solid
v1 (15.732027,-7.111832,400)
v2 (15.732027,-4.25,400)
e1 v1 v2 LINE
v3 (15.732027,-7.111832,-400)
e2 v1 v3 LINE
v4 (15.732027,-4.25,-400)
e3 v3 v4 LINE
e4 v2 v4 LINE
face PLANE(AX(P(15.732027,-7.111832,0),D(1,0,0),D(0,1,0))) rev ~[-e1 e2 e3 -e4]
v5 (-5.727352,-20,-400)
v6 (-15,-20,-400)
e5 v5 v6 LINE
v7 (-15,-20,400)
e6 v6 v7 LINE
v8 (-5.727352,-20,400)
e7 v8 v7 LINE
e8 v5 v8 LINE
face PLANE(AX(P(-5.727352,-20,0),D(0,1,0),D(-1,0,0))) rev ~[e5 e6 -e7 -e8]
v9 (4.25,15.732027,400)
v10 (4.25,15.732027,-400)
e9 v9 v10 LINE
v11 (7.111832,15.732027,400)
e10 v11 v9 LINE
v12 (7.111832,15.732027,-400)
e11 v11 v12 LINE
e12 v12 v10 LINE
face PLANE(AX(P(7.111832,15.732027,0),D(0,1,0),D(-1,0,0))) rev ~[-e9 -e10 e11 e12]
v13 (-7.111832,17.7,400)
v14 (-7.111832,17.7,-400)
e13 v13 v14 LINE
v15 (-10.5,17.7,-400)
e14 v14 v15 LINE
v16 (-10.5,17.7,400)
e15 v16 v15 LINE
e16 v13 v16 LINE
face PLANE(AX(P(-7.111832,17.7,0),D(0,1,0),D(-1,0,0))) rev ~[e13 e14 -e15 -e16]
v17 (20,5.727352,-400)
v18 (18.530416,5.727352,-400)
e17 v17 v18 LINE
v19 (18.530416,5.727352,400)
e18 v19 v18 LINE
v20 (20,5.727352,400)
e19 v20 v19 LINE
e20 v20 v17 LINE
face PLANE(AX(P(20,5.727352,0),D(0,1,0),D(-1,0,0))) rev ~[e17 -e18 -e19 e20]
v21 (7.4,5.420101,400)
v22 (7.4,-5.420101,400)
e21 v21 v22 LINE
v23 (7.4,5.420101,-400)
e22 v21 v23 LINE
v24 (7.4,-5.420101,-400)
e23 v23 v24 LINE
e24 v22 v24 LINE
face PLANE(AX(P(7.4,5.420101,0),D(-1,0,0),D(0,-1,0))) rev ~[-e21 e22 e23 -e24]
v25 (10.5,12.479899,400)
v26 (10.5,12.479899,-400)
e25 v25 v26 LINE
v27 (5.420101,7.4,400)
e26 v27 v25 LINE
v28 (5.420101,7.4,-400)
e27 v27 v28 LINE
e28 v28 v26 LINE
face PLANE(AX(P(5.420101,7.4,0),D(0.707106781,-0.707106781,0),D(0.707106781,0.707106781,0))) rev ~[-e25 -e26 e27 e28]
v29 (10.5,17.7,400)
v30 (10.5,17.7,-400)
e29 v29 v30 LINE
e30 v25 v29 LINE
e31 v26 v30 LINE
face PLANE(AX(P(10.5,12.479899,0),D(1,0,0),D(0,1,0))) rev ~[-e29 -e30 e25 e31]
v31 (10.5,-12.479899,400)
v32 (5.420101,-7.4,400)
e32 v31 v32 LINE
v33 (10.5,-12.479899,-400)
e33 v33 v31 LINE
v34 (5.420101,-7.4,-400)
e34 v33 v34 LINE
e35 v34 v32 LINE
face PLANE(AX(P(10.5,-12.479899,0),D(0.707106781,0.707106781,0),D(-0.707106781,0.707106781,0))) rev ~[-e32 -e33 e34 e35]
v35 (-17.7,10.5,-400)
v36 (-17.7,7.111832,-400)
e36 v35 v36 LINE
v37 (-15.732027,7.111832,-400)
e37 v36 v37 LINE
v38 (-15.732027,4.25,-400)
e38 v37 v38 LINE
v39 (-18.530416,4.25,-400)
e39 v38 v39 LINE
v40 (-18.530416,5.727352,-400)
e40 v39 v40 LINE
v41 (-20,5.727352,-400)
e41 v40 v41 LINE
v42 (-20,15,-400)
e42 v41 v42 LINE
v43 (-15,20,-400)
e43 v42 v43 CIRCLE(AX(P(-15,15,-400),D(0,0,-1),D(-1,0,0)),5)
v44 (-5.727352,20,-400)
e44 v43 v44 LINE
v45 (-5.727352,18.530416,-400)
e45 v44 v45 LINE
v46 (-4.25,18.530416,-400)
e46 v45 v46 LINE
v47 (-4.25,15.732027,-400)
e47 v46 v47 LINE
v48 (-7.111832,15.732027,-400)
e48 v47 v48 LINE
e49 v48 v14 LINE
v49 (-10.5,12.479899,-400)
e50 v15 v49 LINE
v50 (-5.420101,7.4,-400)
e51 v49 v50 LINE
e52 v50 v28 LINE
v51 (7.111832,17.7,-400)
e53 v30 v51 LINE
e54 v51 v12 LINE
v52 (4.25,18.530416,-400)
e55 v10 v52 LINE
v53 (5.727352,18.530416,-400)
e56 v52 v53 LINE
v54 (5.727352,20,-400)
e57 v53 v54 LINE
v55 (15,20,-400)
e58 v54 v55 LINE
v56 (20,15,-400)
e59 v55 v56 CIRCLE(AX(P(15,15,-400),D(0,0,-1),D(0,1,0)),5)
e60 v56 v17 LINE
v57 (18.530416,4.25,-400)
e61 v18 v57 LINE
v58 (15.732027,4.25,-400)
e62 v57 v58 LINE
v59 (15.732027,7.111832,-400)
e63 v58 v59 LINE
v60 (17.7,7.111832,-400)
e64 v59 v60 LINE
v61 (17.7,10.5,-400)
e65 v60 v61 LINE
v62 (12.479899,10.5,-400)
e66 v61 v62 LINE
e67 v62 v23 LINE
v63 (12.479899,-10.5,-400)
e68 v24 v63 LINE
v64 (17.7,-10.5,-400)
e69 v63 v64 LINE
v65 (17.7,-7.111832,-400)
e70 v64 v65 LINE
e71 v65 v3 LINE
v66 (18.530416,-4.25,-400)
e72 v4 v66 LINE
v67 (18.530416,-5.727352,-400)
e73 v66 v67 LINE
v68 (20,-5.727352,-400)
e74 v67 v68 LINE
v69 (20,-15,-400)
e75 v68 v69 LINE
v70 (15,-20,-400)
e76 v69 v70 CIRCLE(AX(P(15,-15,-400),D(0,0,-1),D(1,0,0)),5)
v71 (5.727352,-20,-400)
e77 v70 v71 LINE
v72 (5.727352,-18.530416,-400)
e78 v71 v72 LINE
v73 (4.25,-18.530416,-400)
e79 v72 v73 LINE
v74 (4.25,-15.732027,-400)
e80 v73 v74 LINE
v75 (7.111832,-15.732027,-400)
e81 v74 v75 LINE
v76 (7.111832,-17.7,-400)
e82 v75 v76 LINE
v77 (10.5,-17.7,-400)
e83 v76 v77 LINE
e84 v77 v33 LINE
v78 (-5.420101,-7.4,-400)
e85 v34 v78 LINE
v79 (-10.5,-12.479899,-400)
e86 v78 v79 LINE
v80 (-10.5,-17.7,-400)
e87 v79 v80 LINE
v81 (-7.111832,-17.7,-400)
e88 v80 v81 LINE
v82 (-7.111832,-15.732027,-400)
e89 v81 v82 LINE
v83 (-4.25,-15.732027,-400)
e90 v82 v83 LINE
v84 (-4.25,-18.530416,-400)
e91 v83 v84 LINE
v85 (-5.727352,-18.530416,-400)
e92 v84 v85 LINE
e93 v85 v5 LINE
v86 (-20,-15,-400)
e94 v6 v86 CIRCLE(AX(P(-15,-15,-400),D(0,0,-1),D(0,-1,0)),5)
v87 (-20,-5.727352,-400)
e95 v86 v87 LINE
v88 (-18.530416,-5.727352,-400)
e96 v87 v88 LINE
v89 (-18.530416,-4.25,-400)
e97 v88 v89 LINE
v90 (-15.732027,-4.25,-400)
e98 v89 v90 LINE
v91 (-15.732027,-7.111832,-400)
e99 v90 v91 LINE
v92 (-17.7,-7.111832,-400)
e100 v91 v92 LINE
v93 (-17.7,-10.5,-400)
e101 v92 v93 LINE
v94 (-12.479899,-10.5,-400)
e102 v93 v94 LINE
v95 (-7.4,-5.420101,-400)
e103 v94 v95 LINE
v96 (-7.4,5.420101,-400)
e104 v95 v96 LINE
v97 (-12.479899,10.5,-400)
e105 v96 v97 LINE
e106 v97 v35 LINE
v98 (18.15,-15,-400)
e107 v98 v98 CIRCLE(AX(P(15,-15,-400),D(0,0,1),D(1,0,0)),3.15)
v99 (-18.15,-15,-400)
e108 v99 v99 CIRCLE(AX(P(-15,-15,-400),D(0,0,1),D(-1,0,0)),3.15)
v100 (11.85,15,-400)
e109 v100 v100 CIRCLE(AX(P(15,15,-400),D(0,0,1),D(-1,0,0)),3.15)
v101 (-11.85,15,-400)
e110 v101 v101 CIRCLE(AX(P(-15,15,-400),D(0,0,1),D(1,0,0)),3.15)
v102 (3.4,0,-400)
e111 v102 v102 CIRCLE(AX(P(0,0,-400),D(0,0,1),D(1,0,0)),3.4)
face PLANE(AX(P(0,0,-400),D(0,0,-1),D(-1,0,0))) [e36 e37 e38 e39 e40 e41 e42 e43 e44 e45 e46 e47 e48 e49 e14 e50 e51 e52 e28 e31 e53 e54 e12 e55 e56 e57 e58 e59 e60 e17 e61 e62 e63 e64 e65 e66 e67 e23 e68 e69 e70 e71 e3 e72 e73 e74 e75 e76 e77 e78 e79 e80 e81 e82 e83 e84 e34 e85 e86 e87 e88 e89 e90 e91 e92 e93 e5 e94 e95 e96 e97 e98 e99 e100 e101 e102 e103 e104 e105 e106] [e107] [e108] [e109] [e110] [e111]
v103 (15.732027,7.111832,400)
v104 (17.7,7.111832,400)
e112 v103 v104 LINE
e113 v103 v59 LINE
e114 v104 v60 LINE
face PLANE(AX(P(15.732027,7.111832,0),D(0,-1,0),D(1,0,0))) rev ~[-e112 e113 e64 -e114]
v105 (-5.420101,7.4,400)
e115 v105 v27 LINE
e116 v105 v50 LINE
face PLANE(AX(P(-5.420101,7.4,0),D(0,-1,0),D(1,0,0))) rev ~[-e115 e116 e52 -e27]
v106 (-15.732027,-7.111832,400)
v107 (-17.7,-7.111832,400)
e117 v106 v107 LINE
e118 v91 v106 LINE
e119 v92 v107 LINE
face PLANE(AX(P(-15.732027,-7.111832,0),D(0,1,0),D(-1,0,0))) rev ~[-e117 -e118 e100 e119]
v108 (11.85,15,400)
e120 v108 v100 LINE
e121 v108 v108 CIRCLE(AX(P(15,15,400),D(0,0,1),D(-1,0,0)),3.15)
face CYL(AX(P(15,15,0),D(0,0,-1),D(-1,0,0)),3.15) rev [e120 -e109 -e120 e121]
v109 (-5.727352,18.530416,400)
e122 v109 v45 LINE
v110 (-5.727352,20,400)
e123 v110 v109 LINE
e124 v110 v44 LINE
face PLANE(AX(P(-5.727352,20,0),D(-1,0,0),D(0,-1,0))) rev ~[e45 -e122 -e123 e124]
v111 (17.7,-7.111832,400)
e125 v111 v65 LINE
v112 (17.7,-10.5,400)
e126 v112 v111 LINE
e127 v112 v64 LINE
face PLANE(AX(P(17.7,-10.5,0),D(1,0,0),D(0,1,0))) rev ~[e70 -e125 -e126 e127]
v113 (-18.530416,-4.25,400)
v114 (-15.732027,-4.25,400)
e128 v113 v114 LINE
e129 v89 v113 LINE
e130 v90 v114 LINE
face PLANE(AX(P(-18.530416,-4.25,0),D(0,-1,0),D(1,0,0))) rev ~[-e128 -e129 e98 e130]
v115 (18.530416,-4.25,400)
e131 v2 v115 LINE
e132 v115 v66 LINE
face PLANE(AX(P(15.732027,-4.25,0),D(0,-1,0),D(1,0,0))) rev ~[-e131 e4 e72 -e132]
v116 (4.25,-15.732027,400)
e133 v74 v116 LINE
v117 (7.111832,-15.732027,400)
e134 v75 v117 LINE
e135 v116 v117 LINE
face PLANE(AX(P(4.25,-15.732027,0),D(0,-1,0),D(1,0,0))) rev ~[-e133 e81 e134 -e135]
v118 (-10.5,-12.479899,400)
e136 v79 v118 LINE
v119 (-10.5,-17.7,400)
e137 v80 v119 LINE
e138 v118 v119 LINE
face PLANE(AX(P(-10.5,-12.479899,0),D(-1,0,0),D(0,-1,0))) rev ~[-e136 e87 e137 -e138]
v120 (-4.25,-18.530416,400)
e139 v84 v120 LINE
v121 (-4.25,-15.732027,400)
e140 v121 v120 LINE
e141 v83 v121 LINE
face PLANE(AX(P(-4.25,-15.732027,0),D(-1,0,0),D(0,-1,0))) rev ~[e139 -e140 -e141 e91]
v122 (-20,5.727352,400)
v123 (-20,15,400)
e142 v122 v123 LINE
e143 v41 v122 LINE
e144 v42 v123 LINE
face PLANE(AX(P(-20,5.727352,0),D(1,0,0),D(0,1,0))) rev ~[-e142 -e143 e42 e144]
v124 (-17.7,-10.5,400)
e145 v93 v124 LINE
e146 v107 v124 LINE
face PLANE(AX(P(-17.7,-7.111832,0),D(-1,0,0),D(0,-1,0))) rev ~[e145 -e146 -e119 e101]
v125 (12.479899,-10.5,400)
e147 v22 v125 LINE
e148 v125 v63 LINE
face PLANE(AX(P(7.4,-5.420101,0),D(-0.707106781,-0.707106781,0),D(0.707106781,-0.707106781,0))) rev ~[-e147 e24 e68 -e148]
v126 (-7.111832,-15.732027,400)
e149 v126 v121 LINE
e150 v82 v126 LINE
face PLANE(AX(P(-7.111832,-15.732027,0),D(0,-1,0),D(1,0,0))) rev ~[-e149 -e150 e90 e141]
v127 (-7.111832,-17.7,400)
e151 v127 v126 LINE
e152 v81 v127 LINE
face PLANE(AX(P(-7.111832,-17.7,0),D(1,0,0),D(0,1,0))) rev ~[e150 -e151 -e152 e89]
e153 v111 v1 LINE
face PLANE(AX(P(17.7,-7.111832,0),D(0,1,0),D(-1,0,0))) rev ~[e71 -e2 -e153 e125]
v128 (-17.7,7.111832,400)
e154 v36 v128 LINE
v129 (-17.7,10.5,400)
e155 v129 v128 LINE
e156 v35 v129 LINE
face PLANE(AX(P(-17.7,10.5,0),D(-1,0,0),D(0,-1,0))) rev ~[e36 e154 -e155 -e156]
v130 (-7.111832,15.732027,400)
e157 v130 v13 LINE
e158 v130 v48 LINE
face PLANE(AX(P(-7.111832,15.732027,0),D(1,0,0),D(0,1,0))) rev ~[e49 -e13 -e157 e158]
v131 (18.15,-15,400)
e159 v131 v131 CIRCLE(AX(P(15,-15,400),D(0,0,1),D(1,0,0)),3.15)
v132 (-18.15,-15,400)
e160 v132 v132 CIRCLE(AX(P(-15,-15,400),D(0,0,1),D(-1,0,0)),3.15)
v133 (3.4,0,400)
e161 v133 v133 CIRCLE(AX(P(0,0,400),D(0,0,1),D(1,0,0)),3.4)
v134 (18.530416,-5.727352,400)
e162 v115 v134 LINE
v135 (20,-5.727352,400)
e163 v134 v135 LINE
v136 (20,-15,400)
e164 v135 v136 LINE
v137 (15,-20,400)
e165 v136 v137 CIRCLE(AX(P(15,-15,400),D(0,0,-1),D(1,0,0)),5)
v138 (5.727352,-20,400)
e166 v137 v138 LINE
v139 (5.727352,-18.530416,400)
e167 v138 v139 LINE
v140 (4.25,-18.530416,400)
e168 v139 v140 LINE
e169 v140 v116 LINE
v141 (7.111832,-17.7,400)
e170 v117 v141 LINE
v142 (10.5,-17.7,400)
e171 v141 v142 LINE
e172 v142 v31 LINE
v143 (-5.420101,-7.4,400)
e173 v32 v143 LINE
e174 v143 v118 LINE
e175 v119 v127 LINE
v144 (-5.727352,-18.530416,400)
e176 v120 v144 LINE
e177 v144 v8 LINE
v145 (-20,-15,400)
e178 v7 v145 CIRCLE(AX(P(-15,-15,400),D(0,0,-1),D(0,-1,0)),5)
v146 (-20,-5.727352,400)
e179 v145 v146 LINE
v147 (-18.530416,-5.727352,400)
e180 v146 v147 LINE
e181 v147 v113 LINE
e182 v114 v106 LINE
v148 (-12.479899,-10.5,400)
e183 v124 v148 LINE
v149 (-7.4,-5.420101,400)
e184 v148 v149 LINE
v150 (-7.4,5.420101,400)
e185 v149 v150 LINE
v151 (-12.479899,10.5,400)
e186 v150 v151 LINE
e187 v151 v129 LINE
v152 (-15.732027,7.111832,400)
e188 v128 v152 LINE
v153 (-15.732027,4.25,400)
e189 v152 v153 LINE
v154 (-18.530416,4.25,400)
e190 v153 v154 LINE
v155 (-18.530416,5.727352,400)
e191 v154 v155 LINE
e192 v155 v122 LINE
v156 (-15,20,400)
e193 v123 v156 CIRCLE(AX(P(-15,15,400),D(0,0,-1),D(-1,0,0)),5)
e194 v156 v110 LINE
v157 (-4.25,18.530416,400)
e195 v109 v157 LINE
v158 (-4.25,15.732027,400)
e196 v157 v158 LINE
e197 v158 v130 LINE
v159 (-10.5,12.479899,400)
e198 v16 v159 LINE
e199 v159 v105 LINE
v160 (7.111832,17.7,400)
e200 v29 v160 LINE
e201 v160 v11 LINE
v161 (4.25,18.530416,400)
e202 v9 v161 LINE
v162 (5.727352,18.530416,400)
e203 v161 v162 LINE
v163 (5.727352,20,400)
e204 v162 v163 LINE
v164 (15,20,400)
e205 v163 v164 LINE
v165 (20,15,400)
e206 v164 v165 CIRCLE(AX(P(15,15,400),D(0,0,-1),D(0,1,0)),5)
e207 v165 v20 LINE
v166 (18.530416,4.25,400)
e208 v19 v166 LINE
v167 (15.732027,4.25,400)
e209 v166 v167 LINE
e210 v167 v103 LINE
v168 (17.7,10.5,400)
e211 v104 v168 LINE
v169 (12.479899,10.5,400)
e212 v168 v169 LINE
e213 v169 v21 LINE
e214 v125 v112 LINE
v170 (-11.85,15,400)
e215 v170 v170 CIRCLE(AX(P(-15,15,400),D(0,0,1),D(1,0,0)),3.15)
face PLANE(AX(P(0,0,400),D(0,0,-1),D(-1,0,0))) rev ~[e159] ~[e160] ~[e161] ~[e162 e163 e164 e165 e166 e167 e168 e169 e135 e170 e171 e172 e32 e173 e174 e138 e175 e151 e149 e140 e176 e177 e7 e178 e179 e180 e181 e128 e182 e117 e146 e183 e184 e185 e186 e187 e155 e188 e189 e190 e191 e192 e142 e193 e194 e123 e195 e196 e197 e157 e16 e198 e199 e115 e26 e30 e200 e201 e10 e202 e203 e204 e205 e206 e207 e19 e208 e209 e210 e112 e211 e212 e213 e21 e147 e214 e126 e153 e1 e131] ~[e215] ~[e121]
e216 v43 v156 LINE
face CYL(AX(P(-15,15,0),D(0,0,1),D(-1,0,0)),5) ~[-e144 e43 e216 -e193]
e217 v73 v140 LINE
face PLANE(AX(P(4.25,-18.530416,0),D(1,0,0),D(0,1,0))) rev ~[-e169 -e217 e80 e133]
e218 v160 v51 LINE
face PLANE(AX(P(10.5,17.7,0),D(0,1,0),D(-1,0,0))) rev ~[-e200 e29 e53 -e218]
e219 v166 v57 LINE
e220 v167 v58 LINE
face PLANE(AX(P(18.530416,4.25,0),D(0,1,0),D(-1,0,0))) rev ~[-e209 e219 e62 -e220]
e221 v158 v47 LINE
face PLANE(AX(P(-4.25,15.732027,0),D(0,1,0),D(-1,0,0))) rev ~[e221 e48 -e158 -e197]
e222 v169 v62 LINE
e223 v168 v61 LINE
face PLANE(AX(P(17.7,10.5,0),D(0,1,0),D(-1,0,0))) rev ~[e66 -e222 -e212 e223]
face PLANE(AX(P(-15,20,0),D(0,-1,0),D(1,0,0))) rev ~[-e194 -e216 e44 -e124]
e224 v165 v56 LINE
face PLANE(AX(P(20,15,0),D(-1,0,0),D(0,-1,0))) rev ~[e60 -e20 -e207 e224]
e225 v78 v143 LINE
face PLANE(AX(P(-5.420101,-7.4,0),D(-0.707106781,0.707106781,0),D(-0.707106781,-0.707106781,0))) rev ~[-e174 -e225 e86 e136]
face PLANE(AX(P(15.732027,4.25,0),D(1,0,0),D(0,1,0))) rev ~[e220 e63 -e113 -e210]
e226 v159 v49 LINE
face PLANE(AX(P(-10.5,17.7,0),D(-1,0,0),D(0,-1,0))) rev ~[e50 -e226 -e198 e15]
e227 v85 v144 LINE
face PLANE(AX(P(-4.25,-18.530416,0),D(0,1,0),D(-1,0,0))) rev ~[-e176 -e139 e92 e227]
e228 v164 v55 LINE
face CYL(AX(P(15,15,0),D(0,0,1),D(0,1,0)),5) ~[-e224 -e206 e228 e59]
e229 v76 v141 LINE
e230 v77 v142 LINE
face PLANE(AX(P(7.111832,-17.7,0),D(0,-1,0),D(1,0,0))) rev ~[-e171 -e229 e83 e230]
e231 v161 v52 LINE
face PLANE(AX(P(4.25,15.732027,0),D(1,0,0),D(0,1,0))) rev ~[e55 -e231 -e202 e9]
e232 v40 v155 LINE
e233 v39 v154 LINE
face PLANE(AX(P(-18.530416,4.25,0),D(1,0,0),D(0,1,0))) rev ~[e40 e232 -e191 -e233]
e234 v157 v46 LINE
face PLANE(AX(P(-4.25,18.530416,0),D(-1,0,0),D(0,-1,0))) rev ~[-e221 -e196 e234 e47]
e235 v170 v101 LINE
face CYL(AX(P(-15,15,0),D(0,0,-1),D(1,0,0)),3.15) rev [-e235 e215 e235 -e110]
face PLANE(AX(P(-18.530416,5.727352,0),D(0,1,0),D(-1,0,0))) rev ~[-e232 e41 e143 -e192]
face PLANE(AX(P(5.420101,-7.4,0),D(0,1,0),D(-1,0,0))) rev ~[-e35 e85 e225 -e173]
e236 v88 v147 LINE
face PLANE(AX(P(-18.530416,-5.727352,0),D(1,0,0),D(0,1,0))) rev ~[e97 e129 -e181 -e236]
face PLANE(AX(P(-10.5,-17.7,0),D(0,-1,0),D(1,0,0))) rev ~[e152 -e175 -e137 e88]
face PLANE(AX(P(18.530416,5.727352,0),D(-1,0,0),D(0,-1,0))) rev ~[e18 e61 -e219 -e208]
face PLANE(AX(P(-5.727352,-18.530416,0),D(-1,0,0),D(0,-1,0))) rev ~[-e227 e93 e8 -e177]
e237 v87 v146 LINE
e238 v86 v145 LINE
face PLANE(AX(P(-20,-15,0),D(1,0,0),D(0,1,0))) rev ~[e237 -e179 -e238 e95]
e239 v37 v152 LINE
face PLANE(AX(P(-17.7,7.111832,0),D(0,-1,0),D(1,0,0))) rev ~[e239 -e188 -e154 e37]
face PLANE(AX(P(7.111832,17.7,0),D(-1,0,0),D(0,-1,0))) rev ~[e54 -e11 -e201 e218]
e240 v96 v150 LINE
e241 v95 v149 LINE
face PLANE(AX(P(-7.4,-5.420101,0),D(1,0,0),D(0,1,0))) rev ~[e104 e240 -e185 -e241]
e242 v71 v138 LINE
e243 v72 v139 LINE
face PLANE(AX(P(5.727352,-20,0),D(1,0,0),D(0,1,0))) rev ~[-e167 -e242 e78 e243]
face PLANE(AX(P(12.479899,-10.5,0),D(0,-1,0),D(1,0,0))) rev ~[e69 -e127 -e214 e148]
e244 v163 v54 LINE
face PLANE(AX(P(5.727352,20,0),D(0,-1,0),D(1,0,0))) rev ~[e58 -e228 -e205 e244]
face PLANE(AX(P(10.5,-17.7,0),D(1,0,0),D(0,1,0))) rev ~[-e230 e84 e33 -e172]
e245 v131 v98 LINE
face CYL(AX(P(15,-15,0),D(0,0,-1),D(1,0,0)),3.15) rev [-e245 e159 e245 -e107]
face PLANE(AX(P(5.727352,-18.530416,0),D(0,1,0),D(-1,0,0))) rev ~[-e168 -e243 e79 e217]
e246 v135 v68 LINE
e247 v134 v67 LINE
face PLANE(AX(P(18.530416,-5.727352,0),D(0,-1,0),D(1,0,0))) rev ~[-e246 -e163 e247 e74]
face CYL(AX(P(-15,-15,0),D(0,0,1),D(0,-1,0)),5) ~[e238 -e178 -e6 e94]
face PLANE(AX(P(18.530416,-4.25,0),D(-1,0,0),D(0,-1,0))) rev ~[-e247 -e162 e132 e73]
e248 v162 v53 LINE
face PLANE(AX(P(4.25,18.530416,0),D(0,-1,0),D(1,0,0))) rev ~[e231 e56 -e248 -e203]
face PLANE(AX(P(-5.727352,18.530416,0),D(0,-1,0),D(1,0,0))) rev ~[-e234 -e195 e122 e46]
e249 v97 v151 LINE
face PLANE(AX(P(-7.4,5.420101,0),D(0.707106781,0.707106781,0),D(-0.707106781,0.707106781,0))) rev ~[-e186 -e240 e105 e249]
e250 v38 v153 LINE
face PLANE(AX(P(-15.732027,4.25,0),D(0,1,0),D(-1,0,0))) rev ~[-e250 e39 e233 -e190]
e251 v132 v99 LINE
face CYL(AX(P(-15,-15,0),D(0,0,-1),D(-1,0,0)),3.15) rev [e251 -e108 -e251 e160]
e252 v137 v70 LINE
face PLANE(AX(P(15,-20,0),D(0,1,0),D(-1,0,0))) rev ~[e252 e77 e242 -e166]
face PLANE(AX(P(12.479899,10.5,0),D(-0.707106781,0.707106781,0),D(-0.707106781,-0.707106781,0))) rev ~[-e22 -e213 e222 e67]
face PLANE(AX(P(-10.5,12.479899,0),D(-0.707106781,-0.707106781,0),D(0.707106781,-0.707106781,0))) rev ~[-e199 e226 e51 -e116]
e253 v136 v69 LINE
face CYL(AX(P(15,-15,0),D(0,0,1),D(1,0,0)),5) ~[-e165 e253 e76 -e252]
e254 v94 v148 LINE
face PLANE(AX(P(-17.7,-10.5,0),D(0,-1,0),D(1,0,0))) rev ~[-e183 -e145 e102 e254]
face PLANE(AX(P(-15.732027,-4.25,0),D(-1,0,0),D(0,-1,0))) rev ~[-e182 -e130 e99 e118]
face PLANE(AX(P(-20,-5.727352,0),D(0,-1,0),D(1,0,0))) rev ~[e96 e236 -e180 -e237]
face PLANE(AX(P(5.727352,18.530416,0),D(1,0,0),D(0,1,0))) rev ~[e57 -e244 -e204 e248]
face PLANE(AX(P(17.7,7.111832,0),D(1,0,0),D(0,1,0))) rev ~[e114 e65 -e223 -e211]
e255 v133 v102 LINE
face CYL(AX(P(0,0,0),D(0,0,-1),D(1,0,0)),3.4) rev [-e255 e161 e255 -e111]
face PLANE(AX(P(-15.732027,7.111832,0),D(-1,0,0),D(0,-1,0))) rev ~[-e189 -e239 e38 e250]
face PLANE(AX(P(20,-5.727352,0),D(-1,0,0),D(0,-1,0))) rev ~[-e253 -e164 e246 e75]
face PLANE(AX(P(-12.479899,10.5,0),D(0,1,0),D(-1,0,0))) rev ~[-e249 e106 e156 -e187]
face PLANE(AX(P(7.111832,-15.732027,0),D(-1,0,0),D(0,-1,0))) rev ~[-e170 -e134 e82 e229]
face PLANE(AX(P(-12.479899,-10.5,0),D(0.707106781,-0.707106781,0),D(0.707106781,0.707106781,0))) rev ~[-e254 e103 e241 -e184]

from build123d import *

# Parameters (mm, degrees)
SKETCH_1_R      = 3.4
SKETCH_1_R_2    = 3.15
EXTRUDE_1_DEPTH = 400


with BuildPart() as part:
    # Эскиз1 → Бобышка-Вытянуть1 (new, symmetric)
    with BuildSketch(Plane.XY):
        with BuildLine():
            Line((-15, 20), (-5.727351849, 20))
            Line((-5.727351849, 20), (-5.727351849, 18.530416438))
            Line((-5.727351849, 18.530416438), (-4.25, 18.530416438))
            Line((-4.25, 18.530416438), (-4.25, 15.732027397))
            Line((-4.25, 15.732027397), (-7.111831817, 15.732027397))
            Line((-7.111831817, 15.732027397), (-7.111831817, 17.7))
            Line((-7.111831817, 17.7), (-10.5, 17.7))
            Line((-10.5, 17.7), (-10.5, 12.479898987))
            Line((-10.5, 12.479898987), (-5.420101013, 7.4))
            Line((-5.420101013, 7.4), (5.420101013, 7.4))
            Line((5.420101013, 7.4), (10.5, 12.479898987))
            Line((10.5, 12.479898987), (10.5, 17.7))
            Line((10.5, 17.7), (7.111831817, 17.7))
            Line((7.111831817, 17.7), (7.111831817, 15.732027397))
            Line((7.111831817, 15.732027397), (4.25, 15.732027397))
            Line((4.25, 15.732027397), (4.25, 18.530416438))
            Line((4.25, 18.530416438), (5.727351849, 18.530416438))
            Line((5.727351849, 18.530416438), (5.727351849, 20))
            Line((5.727351849, 20), (15, 20))
            ThreePointArc((15, 20), (18.535533906, 18.535533906), (20, 15))
            Line((20, 15), (20, 5.727351849))
            Line((20, 5.727351849), (18.530416438, 5.727351849))
            Line((18.530416438, 5.727351849), (18.530416438, 4.25))
            Line((18.530416438, 4.25), (15.732027397, 4.25))
            Line((15.732027397, 4.25), (15.732027397, 7.111831817))
            Line((15.732027397, 7.111831817), (17.7, 7.111831817))
            Line((17.7, 7.111831817), (17.7, 10.5))
            Line((17.7, 10.5), (12.479898987, 10.5))
            Line((12.479898987, 10.5), (7.4, 5.420101013))
            Line((7.4, 5.420101013), (7.4, -5.420101013))
            Line((7.4, -5.420101013), (12.479898987, -10.5))
            Line((12.479898987, -10.5), (17.7, -10.5))
            Line((17.7, -10.5), (17.7, -7.111831817))
            Line((17.7, -7.111831817), (15.732027397, -7.111831817))
            Line((15.732027397, -7.111831817), (15.732027397, -4.25))
            Line((15.732027397, -4.25), (18.530416438, -4.25))
            Line((18.530416438, -4.25), (18.530416438, -5.727351849))
            Line((18.530416438, -5.727351849), (20, -5.727351849))
            Line((20, -5.727351849), (20, -15))
            ThreePointArc((20, -15), (18.535533906, -18.535533906), (15, -20))
            Line((15, -20), (5.727351849, -20))
            Line((5.727351849, -20), (5.727351849, -18.530416438))
            Line((5.727351849, -18.530416438), (4.25, -18.530416438))
            Line((4.25, -18.530416438), (4.25, -15.732027397))
            Line((4.25, -15.732027397), (7.111831817, -15.732027397))
            Line((7.111831817, -15.732027397), (7.111831817, -17.7))
            Line((7.111831817, -17.7), (10.5, -17.7))
            Line((10.5, -17.7), (10.5, -12.479898987))
            Line((10.5, -12.479898987), (5.420101013, -7.4))
            Line((5.420101013, -7.4), (-5.420101013, -7.4))
            Line((-5.420101013, -7.4), (-10.5, -12.479898987))
            Line((-10.5, -12.479898987), (-10.5, -17.7))
            Line((-10.5, -17.7), (-7.111831817, -17.7))
            Line((-7.111831817, -17.7), (-7.111831817, -15.732027397))
            Line((-7.111831817, -15.732027397), (-4.25, -15.732027397))
            Line((-4.25, -15.732027397), (-4.25, -18.530416438))
            Line((-4.25, -18.530416438), (-5.727351849, -18.530416438))
            Line((-5.727351849, -18.530416438), (-5.727351849, -20))
            Line((-5.727351849, -20), (-15, -20))
            ThreePointArc((-15, -20), (-18.535533906, -18.535533906), (-20, -15))
            Line((-20, -15), (-20, -5.727351849))
            Line((-20, -5.727351849), (-18.530416438, -5.727351849))
            Line((-18.530416438, -5.727351849), (-18.530416438, -4.25))
            Line((-18.530416438, -4.25), (-15.732027397, -4.25))
            Line((-15.732027397, -4.25), (-15.732027397, -7.111831817))
            Line((-15.732027397, -7.111831817), (-17.7, -7.111831817))
            Line((-17.7, -7.111831817), (-17.7, -10.5))
            Line((-17.7, -10.5), (-12.479898987, -10.5))
            Line((-12.479898987, -10.5), (-7.4, -5.420101013))
            Line((-7.4, -5.420101013), (-7.4, 5.420101013))
            Line((-7.4, 5.420101013), (-12.479898987, 10.5))
            Line((-12.479898987, 10.5), (-17.7, 10.5))
            Line((-17.7, 10.5), (-17.7, 7.111831817))
            Line((-17.7, 7.111831817), (-15.732027397, 7.111831817))
            Line((-15.732027397, 7.111831817), (-15.732027397, 4.25))
            Line((-15.732027397, 4.25), (-18.530416438, 4.25))
            Line((-18.530416438, 4.25), (-18.530416438, 5.727351849))
            Line((-18.530416438, 5.727351849), (-20, 5.727351849))
            Line((-20, 5.727351849), (-20, 15))
            ThreePointArc((-20, 15), (-18.535533906, 18.535533906), (-15, 20))
        make_face()
        Circle(SKETCH_1_R, mode=Mode.SUBTRACT)
        with Locations((-15, 15)):
            Circle(SKETCH_1_R_2, mode=Mode.SUBTRACT)
        with Locations((15, 15)):
            Circle(SKETCH_1_R_2, mode=Mode.SUBTRACT)
        with Locations((15, -15)):
            Circle(SKETCH_1_R_2, mode=Mode.SUBTRACT)
        with Locations((-15, -15)):
            Circle(SKETCH_1_R_2, mode=Mode.SUBTRACT)
    extrude(amount=EXTRUDE_1_DEPTH, both=True)


solid = part.part
